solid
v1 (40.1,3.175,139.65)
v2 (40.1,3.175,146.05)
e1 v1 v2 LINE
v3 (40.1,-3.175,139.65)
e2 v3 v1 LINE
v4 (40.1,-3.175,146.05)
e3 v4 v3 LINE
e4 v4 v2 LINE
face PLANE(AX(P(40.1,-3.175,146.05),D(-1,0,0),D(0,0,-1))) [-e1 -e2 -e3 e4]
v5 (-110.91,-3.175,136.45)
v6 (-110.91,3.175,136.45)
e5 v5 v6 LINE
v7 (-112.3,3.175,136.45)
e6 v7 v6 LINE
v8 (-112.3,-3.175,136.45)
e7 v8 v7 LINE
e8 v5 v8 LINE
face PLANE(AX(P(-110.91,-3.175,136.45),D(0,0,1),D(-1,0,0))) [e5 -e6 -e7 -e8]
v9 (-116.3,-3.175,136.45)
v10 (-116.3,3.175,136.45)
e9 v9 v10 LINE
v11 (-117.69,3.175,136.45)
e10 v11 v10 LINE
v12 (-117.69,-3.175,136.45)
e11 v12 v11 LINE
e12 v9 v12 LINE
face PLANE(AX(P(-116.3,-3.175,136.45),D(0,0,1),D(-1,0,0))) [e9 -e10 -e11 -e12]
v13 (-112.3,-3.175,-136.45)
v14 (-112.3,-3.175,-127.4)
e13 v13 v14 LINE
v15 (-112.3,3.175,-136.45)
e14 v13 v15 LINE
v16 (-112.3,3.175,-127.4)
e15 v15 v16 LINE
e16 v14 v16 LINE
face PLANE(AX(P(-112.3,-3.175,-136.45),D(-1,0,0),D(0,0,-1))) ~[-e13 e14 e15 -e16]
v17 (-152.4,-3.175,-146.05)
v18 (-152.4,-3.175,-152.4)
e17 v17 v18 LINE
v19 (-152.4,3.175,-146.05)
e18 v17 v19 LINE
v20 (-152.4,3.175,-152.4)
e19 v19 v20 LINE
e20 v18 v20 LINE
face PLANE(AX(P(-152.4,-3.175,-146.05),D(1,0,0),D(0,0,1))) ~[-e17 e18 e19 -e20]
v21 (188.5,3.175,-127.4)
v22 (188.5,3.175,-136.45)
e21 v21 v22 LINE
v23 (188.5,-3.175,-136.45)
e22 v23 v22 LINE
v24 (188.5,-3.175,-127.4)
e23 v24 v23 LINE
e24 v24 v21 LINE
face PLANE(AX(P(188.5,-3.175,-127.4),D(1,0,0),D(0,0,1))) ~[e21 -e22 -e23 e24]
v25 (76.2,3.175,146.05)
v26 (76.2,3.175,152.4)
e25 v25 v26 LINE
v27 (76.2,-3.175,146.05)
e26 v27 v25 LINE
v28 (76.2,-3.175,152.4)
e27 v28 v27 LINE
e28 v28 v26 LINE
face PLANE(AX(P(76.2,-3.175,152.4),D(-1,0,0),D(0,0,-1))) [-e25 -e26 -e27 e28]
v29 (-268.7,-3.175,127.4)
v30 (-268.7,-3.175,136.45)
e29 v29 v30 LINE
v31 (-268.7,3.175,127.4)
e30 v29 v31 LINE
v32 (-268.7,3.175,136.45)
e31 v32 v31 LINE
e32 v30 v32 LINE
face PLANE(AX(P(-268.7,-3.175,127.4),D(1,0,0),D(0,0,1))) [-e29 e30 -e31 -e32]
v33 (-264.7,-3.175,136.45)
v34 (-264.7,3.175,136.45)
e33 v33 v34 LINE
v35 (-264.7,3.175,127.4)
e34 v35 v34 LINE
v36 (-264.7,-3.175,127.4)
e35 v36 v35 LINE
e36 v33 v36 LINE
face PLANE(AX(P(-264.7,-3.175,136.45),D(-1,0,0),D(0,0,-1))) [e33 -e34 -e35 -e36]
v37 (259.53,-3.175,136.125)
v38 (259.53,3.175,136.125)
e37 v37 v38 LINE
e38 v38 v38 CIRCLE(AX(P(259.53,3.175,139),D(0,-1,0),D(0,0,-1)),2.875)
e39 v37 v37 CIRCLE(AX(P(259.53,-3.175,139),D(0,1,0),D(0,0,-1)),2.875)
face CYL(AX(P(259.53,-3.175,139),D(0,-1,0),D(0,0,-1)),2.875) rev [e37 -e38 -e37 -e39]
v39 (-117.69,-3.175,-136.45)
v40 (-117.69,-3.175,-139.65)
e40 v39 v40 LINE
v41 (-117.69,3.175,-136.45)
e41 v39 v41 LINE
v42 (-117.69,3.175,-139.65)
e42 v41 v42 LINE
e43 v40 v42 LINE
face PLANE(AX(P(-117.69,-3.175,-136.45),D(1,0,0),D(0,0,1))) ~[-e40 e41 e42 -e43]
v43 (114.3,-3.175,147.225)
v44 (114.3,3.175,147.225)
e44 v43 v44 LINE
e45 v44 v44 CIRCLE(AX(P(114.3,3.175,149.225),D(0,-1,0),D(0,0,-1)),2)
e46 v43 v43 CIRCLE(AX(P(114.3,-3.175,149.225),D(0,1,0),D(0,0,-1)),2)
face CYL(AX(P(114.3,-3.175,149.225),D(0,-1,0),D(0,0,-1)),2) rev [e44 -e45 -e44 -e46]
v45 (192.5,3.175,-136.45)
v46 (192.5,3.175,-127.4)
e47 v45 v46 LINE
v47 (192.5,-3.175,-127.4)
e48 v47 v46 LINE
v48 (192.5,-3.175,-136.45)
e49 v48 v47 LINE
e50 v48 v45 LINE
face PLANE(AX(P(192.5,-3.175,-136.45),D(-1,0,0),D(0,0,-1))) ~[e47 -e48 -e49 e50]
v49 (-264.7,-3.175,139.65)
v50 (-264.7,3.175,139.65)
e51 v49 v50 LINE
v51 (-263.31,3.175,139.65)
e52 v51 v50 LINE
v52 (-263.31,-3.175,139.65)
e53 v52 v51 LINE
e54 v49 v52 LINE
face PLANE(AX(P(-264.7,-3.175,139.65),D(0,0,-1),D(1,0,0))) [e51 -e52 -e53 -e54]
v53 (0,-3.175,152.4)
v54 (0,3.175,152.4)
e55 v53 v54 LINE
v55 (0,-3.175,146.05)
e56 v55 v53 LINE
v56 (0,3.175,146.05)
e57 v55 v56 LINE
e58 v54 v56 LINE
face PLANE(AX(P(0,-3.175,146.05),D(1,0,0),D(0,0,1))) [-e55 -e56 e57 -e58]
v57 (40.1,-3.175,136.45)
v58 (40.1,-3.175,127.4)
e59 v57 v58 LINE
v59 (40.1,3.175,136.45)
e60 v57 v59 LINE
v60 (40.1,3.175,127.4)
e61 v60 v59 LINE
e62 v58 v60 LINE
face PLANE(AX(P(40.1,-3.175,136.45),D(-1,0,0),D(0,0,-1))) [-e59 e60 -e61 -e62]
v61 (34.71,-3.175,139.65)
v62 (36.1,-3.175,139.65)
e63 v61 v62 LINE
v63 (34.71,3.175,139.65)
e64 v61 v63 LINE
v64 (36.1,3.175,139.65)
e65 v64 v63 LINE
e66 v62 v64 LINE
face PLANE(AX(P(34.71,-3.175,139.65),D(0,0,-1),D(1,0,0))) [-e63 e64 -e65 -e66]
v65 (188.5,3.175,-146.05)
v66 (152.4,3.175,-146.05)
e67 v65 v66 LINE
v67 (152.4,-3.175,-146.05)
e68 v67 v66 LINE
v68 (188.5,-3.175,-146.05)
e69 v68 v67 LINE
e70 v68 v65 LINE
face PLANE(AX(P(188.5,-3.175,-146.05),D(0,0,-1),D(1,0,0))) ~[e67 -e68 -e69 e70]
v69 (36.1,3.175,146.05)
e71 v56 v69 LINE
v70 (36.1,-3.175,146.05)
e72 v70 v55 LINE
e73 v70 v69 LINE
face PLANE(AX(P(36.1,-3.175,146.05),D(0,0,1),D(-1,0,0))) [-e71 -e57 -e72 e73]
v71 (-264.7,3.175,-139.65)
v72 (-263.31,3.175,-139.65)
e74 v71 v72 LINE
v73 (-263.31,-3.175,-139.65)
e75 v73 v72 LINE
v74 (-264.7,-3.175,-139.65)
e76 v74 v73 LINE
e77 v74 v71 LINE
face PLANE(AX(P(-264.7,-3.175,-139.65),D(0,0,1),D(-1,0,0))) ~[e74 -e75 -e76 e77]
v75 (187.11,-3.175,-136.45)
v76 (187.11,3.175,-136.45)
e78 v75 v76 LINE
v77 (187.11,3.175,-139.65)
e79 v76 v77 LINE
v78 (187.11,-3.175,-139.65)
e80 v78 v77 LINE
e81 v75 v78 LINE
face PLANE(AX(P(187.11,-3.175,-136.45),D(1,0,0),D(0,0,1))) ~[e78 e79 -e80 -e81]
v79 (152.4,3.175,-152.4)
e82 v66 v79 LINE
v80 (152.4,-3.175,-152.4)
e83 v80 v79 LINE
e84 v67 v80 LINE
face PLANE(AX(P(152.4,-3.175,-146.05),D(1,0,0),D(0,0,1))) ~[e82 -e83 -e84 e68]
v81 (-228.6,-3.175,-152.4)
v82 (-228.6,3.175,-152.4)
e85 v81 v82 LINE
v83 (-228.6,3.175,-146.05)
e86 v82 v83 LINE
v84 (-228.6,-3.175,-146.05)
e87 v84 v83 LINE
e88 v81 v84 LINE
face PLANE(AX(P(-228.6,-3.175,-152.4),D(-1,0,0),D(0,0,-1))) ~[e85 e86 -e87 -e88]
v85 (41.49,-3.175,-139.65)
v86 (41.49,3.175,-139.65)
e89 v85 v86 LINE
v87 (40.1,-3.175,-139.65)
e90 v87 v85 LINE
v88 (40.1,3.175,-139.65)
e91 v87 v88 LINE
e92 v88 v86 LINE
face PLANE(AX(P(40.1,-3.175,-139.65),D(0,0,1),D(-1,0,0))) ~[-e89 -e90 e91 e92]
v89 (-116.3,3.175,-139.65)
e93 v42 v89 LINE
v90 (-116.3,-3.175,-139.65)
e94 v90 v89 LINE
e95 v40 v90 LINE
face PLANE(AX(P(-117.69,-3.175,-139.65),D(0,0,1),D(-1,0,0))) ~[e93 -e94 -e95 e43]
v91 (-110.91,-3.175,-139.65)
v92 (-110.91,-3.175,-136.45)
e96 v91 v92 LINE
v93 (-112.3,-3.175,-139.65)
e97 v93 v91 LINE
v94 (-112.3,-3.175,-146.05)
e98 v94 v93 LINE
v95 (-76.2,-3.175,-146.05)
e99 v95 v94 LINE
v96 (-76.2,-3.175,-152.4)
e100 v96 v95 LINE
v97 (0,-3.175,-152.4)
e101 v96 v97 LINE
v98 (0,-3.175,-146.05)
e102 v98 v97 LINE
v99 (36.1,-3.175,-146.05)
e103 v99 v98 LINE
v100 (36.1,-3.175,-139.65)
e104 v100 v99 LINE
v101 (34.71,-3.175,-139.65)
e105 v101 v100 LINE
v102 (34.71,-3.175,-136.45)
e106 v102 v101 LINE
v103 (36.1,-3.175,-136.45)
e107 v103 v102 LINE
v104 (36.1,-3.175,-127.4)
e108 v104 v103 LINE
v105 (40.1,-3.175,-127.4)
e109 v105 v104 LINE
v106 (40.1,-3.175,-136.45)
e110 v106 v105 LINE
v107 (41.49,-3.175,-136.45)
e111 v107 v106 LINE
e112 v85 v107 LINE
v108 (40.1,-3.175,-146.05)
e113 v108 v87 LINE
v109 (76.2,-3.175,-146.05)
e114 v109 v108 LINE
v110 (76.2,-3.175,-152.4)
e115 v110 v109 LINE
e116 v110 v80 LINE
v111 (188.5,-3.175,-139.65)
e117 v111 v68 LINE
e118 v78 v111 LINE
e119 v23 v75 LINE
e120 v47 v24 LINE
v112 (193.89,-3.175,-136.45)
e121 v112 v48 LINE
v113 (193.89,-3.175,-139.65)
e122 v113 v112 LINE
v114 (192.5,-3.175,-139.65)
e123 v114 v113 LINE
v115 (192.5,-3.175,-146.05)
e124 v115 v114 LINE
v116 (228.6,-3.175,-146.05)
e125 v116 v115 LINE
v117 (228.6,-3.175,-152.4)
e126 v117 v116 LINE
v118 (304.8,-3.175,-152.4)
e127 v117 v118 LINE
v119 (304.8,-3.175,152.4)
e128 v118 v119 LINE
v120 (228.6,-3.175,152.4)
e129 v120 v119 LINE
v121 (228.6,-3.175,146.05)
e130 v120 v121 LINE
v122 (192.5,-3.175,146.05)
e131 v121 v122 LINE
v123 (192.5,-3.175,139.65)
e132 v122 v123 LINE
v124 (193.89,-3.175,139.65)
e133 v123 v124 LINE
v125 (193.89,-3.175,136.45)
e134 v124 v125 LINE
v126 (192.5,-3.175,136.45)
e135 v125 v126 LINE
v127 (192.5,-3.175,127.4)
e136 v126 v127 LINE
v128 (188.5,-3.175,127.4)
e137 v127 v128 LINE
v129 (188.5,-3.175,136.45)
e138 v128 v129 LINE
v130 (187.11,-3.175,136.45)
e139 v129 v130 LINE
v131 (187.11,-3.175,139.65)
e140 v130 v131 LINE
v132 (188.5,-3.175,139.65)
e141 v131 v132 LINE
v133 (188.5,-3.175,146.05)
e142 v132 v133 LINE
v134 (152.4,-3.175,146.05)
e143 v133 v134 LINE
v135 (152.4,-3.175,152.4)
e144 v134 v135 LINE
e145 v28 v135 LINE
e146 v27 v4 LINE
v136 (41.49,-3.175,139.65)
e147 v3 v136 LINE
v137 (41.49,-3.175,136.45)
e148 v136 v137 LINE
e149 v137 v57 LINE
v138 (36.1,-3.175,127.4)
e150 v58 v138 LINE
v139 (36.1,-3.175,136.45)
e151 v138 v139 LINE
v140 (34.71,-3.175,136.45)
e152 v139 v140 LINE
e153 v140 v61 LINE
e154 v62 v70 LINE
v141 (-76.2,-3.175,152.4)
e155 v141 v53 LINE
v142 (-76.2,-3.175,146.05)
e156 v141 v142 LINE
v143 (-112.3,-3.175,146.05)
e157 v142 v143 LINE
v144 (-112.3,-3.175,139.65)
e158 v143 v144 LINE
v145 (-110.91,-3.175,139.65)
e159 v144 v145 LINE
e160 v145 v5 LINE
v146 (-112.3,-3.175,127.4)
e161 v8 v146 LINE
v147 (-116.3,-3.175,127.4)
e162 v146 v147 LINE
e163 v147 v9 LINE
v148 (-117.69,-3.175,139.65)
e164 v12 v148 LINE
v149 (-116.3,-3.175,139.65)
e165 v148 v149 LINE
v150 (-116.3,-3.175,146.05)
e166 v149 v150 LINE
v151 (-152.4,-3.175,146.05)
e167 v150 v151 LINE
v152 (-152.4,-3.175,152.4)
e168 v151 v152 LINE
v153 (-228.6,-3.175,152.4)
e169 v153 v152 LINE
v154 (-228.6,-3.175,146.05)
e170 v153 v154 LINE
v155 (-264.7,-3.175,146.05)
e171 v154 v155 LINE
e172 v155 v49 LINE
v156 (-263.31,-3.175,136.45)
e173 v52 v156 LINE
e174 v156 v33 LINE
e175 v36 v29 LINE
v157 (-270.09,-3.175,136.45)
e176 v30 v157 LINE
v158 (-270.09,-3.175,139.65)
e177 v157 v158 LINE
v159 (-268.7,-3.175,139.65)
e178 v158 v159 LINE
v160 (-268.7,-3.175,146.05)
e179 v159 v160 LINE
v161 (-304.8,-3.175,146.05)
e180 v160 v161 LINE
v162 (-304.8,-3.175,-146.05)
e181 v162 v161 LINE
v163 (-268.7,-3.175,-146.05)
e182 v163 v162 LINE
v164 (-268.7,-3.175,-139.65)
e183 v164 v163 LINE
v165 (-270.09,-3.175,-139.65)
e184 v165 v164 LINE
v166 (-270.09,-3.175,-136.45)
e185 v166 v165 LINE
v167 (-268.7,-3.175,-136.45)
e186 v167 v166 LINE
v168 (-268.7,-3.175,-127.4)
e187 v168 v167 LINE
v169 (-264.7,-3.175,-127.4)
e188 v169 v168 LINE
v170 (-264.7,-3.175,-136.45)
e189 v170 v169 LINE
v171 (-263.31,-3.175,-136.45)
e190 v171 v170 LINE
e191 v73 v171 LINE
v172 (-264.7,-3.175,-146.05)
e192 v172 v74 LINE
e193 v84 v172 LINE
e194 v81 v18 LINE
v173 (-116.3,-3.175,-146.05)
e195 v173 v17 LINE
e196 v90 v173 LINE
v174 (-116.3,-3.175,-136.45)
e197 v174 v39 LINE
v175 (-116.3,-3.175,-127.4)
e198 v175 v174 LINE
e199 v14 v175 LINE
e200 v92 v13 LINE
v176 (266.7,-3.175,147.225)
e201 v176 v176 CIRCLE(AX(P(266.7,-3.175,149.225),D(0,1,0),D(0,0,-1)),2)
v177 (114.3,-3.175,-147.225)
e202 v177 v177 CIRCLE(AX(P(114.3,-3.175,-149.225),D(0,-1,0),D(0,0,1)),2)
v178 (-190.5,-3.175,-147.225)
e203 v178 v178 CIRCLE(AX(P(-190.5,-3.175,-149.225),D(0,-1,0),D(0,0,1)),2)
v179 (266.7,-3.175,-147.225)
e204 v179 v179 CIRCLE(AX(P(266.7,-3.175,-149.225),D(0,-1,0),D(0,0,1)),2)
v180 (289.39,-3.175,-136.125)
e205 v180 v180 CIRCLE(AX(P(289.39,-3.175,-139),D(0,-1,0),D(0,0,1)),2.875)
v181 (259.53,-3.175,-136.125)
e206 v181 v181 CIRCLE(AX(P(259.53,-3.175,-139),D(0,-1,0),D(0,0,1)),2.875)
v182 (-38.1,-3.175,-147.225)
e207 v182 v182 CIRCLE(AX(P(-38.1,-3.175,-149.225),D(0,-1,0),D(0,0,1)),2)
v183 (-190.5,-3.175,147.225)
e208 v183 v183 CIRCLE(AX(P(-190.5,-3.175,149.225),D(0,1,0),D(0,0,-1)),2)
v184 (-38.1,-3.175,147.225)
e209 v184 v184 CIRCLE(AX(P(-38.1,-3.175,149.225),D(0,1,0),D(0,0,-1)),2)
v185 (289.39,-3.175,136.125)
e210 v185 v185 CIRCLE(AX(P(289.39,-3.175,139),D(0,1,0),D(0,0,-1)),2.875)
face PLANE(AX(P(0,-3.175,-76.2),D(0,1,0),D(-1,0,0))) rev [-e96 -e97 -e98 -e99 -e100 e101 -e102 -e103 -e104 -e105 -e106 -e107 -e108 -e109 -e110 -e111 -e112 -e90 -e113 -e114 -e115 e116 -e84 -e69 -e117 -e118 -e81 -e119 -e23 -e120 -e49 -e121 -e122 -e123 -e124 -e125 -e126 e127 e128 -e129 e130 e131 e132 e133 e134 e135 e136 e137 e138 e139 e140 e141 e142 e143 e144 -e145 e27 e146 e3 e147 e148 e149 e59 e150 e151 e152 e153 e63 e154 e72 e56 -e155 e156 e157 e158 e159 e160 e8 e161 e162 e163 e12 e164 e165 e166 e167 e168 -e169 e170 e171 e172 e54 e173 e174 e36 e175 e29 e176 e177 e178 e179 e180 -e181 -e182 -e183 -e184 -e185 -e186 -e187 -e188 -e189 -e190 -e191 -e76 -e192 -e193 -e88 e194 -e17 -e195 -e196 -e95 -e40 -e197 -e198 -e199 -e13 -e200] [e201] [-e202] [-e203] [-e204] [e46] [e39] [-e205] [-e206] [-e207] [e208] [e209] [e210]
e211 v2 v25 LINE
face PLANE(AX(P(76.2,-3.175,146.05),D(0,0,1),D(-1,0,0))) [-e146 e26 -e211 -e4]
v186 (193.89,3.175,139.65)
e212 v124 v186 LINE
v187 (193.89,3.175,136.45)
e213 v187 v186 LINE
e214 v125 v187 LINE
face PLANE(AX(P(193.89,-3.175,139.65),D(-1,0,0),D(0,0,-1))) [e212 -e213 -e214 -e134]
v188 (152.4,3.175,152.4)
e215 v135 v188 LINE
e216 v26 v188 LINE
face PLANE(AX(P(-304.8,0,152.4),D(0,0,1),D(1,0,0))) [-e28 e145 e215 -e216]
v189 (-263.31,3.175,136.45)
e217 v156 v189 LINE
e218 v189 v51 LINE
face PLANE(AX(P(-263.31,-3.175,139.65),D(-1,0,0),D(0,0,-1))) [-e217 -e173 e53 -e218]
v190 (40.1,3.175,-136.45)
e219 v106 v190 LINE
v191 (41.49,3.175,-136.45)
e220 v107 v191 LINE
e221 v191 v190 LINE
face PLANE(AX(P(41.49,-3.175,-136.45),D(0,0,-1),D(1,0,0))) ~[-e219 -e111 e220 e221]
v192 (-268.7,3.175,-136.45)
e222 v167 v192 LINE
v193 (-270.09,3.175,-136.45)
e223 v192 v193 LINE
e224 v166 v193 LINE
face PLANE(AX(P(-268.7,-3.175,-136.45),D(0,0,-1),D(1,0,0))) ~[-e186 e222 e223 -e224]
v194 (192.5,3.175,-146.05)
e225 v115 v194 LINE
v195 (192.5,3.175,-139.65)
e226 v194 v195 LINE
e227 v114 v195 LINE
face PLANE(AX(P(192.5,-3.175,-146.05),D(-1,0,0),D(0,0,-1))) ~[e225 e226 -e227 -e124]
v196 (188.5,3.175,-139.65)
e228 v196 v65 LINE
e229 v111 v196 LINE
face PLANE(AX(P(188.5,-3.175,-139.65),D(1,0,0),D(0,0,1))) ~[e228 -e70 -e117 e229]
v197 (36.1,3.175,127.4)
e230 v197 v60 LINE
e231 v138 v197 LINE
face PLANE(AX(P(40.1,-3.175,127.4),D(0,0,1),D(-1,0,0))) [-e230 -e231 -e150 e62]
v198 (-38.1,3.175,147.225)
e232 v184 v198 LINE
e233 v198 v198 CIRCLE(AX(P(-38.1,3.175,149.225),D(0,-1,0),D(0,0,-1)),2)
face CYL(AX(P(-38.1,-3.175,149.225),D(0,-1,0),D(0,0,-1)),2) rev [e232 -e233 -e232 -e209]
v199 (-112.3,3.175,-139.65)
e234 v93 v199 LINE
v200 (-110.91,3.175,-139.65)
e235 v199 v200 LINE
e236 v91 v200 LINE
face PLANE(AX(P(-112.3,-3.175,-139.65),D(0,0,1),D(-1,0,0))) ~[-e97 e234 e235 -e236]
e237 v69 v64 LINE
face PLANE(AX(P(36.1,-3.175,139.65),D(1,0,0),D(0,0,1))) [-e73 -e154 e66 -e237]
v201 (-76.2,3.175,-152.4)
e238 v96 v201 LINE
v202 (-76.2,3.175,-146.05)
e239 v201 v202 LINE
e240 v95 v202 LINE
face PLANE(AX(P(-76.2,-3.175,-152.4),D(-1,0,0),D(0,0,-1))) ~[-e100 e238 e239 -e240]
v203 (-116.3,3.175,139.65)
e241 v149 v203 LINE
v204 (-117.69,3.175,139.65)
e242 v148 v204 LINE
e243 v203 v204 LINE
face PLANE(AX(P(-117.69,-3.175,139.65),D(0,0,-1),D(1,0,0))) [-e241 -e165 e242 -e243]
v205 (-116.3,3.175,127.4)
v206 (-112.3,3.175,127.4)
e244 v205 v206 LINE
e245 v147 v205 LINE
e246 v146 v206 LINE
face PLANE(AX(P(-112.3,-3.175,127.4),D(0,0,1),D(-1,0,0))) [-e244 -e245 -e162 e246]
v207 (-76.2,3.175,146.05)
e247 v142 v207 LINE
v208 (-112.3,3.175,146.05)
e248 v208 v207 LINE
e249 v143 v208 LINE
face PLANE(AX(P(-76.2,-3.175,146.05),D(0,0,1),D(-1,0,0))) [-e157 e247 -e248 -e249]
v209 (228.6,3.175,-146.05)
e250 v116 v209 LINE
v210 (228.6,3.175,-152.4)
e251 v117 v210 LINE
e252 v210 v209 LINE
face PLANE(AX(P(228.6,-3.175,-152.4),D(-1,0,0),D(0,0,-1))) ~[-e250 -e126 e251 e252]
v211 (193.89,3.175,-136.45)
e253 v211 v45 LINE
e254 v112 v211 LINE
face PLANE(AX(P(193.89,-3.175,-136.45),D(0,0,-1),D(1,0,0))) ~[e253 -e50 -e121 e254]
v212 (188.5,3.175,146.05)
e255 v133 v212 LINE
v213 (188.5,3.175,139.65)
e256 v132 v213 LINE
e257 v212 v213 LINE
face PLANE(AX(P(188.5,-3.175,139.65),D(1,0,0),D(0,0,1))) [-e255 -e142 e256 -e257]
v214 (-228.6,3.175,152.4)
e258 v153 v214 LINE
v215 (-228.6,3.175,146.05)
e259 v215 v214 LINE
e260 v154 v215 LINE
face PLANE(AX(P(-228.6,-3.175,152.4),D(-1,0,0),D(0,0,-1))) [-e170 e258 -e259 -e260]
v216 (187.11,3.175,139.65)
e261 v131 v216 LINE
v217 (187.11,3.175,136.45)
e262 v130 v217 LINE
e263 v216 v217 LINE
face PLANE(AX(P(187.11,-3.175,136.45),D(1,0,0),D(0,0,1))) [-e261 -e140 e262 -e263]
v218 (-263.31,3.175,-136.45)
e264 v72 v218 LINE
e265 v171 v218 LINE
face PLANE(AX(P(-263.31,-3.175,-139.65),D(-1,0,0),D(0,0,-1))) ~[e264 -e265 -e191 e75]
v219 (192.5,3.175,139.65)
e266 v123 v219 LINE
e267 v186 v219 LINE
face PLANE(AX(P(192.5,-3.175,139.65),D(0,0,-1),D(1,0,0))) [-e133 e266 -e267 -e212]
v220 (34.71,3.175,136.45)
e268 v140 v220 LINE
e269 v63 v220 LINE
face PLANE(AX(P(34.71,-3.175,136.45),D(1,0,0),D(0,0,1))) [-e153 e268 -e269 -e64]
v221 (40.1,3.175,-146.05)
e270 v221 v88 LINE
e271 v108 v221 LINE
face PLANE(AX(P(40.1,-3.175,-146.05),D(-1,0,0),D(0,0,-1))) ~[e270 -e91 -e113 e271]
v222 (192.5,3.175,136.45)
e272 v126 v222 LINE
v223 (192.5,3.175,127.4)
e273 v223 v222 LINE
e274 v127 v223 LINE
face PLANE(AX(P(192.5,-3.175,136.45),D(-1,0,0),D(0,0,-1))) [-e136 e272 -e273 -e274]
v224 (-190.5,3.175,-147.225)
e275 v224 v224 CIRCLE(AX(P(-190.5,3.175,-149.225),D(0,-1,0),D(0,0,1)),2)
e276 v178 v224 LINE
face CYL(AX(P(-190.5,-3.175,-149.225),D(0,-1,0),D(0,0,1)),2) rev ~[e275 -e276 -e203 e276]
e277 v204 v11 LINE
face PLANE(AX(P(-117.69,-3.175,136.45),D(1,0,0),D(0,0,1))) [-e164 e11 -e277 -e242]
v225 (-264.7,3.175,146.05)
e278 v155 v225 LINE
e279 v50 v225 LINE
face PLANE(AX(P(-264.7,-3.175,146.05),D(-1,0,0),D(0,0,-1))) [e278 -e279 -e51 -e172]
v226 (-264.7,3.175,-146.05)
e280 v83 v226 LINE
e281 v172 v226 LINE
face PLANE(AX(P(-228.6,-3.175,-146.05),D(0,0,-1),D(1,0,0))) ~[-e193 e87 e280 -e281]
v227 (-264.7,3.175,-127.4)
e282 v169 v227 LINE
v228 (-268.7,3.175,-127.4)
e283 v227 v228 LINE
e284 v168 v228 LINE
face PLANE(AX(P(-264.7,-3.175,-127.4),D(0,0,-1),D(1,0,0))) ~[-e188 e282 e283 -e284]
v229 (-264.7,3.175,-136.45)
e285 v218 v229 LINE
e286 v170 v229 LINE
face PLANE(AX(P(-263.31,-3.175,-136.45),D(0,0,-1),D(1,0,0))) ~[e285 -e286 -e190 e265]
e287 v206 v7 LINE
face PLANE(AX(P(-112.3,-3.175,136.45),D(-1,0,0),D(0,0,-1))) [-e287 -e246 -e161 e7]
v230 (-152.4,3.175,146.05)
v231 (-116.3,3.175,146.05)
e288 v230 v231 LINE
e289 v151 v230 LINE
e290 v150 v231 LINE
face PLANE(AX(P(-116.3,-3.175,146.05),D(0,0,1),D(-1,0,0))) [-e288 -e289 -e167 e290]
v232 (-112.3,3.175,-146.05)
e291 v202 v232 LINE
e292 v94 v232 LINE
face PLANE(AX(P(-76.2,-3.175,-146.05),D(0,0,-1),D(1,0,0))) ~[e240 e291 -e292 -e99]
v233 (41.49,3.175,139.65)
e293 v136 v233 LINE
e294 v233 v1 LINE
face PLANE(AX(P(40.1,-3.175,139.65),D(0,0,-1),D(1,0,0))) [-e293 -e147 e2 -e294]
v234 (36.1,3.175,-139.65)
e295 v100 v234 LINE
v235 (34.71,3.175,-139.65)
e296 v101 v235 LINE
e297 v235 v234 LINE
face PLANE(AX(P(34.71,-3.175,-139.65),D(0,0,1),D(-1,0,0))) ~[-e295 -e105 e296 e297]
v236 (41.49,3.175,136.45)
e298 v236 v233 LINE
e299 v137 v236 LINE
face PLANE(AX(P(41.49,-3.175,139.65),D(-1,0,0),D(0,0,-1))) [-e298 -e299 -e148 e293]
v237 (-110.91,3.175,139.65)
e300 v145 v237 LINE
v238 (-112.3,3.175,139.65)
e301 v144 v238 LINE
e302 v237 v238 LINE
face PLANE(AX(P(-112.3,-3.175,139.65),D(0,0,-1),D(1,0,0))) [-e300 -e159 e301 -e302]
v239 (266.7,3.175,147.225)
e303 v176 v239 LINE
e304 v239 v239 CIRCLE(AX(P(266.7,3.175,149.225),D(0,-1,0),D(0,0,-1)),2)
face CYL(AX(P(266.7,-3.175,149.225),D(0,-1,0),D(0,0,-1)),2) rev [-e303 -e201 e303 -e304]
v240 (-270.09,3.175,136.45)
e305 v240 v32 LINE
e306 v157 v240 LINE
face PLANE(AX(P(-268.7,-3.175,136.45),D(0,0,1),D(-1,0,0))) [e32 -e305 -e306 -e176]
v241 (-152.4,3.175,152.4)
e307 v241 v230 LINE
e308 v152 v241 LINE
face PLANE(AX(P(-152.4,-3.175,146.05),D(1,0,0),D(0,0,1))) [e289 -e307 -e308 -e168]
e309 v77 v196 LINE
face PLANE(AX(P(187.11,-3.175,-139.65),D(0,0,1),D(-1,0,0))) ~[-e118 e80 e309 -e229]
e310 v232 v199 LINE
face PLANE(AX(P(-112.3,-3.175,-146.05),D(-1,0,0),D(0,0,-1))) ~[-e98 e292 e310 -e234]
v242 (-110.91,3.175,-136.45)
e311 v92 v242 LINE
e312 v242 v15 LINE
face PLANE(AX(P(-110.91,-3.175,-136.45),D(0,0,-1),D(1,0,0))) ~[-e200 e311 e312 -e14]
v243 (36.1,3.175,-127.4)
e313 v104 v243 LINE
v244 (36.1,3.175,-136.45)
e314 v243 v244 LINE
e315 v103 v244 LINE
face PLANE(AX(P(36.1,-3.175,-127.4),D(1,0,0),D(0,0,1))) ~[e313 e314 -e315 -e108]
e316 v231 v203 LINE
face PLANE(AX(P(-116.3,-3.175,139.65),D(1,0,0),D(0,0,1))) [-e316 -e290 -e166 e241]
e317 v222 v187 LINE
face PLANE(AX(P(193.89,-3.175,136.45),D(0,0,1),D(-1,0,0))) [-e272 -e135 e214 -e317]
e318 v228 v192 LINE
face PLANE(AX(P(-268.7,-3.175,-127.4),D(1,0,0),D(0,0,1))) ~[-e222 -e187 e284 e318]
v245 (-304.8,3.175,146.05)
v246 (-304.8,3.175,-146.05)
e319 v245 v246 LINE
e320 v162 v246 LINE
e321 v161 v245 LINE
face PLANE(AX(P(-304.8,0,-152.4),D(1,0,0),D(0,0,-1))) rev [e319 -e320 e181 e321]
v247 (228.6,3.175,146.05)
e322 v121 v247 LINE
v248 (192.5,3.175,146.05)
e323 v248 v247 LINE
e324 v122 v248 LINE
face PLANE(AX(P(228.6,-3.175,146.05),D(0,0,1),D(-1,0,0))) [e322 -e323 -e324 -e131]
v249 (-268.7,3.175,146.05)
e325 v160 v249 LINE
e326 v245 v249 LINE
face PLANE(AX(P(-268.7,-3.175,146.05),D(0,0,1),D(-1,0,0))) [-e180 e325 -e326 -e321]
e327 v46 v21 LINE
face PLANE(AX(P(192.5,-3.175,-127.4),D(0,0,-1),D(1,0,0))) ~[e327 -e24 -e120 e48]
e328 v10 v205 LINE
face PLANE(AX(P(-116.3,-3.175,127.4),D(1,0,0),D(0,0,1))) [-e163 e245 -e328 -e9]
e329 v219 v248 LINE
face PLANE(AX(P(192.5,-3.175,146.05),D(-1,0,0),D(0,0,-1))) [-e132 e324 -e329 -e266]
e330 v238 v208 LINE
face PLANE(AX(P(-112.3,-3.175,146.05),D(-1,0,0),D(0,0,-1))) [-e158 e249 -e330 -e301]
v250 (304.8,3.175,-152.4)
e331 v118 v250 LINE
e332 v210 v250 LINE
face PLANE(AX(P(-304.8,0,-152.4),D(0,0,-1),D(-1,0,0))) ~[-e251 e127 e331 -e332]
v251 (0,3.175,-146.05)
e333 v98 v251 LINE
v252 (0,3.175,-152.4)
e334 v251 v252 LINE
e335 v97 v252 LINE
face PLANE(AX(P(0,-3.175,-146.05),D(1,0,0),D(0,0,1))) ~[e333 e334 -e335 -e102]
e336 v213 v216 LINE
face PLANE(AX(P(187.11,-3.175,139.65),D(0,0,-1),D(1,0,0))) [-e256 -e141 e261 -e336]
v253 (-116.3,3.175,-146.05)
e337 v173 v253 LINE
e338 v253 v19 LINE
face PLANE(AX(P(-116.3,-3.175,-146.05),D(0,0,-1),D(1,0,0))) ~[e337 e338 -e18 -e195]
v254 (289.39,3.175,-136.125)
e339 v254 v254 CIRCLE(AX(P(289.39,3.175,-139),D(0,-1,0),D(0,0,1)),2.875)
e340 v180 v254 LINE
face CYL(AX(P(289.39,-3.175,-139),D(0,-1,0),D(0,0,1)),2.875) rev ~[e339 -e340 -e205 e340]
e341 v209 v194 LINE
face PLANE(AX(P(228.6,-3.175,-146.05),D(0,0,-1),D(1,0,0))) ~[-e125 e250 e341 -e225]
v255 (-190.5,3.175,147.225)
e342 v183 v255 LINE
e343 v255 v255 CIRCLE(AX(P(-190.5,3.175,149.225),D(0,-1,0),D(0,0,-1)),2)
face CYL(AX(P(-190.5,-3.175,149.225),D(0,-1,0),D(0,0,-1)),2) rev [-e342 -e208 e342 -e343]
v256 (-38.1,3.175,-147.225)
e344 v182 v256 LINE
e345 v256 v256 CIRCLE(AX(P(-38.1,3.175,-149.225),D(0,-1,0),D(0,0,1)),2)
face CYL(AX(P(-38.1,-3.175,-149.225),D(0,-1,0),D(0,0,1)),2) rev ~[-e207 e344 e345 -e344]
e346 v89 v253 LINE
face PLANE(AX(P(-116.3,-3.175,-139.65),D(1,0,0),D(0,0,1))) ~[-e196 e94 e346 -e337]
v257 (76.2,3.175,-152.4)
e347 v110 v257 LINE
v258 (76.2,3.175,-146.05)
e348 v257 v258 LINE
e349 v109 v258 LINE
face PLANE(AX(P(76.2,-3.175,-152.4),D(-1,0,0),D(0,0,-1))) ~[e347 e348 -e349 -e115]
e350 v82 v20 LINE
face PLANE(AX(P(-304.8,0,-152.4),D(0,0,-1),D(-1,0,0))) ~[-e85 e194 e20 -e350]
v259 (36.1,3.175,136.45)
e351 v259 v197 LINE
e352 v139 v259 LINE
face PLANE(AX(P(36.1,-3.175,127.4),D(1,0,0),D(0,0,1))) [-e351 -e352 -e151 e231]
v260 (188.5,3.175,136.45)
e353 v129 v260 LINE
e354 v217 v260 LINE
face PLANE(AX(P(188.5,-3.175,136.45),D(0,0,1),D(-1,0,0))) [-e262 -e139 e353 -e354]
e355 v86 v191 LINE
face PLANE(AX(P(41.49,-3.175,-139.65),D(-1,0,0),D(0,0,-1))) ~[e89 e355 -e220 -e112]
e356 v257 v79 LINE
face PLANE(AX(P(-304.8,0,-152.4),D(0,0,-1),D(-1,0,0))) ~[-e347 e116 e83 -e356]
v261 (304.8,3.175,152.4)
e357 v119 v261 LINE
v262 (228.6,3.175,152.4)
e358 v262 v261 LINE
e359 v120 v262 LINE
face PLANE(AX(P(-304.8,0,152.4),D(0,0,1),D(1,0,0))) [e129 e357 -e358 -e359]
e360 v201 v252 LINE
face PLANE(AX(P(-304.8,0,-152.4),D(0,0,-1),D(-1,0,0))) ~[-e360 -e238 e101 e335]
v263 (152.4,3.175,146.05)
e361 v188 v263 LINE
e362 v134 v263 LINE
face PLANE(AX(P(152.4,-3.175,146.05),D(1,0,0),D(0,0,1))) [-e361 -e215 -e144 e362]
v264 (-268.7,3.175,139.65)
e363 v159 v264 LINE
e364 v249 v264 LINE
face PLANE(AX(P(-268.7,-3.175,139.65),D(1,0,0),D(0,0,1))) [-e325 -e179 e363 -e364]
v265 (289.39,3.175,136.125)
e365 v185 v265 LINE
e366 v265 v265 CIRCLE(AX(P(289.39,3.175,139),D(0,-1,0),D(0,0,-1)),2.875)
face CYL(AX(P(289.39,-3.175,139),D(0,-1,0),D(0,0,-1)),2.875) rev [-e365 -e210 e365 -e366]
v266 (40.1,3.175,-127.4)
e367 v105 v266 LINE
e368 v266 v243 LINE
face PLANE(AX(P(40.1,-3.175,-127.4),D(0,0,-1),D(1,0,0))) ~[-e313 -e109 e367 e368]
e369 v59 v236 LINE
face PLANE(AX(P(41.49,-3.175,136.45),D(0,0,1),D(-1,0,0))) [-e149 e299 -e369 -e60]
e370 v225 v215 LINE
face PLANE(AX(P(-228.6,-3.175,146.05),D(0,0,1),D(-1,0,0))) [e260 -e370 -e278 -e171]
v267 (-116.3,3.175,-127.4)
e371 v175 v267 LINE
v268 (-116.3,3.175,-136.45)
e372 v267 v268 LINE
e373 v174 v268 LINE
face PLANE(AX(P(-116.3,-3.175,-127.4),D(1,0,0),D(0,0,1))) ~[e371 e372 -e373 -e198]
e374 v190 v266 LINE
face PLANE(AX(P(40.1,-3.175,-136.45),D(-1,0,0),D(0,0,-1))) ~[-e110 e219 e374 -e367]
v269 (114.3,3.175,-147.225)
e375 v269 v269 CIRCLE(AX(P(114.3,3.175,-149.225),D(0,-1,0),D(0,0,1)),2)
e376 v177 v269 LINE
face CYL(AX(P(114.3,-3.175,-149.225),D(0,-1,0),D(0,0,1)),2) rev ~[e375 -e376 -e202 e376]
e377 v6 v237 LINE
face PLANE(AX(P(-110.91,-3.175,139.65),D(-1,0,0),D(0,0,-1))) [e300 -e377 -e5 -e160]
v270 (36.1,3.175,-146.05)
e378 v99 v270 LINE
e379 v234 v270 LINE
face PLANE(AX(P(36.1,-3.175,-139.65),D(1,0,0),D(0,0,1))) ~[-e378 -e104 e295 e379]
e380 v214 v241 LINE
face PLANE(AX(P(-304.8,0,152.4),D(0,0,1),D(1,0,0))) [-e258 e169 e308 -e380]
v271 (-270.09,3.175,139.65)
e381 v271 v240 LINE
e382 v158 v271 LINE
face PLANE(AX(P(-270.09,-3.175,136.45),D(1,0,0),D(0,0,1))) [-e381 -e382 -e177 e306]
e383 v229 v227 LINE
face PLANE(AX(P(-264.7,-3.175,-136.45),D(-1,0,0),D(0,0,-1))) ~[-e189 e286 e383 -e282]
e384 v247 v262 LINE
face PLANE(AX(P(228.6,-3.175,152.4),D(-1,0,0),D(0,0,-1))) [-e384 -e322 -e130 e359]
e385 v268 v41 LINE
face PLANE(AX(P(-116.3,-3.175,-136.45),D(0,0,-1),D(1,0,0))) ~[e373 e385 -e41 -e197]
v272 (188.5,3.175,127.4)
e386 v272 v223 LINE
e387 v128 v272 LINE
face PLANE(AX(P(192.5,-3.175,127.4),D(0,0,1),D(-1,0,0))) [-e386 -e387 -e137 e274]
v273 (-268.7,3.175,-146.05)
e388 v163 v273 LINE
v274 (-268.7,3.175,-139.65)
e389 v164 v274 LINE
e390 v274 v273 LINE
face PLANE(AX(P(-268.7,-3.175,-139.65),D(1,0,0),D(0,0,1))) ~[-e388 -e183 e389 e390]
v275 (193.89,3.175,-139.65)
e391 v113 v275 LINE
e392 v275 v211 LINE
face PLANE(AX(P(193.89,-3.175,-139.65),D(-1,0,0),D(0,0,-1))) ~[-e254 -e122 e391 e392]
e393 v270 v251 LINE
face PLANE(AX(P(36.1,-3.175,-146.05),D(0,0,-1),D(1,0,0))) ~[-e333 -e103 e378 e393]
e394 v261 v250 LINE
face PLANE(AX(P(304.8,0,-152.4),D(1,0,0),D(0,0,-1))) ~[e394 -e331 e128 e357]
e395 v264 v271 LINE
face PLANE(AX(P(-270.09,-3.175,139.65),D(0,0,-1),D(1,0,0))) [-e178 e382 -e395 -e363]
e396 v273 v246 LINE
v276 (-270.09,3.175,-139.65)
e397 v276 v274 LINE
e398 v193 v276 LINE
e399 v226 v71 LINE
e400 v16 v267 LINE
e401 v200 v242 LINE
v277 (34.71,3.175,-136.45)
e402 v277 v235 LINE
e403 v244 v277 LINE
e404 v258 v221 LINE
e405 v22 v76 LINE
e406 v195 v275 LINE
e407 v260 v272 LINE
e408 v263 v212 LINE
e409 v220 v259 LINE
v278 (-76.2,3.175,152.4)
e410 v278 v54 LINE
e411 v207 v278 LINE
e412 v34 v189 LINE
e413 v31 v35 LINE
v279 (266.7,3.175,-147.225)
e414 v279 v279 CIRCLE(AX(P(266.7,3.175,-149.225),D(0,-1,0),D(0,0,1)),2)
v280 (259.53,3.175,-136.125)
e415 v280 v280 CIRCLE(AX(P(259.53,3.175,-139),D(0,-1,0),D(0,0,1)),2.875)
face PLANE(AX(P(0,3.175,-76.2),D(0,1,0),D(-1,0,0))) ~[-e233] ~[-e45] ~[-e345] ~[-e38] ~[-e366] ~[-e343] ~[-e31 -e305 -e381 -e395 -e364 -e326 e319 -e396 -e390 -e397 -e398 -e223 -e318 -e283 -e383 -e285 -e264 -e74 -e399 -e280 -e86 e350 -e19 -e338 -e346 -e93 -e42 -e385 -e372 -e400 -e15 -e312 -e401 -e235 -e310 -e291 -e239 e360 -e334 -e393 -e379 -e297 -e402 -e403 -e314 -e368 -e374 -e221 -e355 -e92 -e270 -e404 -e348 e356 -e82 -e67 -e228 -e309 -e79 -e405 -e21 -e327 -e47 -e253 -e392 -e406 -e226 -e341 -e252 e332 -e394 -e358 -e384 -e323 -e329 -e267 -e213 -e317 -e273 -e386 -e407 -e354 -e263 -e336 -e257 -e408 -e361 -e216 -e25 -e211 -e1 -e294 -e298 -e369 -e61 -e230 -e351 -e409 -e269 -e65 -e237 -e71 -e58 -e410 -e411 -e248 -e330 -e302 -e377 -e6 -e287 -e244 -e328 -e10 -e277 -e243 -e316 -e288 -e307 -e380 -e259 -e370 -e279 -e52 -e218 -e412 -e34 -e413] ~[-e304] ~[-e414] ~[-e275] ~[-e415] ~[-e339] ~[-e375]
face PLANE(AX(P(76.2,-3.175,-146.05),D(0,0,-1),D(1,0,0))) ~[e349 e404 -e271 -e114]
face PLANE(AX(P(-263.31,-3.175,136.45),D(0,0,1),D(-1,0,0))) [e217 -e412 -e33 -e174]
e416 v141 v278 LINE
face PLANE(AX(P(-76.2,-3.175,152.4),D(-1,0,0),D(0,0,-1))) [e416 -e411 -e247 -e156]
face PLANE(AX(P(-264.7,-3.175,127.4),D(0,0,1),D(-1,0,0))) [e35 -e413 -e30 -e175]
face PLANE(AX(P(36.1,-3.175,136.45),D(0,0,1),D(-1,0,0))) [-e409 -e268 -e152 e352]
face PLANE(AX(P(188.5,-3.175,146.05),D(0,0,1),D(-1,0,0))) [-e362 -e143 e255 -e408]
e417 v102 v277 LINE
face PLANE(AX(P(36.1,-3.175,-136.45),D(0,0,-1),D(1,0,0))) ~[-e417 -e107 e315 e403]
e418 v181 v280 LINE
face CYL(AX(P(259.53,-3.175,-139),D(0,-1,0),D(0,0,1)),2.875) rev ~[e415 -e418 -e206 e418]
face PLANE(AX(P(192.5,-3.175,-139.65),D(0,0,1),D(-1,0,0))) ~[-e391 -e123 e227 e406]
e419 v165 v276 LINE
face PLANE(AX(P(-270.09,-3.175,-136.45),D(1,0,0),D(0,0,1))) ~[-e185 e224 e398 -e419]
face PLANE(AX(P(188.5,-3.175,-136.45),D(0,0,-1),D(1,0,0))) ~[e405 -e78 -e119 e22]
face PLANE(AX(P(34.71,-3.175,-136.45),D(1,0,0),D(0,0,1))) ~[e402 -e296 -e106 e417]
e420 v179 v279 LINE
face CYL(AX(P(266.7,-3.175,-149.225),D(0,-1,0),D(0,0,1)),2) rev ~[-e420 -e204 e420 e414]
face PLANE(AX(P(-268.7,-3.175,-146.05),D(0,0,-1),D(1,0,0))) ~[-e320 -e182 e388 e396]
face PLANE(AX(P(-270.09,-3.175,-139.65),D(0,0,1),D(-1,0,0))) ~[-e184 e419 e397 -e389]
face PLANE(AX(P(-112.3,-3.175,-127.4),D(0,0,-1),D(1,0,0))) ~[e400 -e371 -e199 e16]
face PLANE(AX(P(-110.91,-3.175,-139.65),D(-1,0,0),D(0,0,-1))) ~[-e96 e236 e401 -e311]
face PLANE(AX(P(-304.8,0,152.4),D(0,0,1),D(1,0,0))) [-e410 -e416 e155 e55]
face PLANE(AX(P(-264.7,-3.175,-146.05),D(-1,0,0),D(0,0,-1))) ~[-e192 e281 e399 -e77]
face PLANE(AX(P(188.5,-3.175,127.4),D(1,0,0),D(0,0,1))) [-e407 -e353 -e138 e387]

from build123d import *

# Parameters (mm, degrees)
SKETCH1_W           = 609.6
SKETCH1_H           = 152.4
BOSS_EXTRUDE1_DEPTH = 3.175
SKETCH2_R           = 2.875
SKETCH2_R_2         = 2
CUT_EXTRUDE1_DEPTH  = 341.835917268


with BuildPart() as part:
    # Sketch1 → Boss-Extrude1 (new, symmetric)
    with BuildSketch(Plane(origin=(0, 0, 0), x_dir=(1, 0, 0), z_dir=(0, 1, 0))):
        with Locations((0, -76.2)):
            Rectangle(SKETCH1_W, SKETCH1_H)
    boss_extrude1 = extrude(amount=BOSS_EXTRUDE1_DEPTH, both=True)

    # Sketch2 → Cut-Extrude1 (cut, through all)
    with BuildSketch(Plane(origin=(0, -3.175, 0), x_dir=(1, 0, 0), z_dir=(0, 1, 0))):
        Polygon((34.71, -136.45), (34.71, -139.65), (36.1, -139.65), (36.1, -146.05), (0, -146.05), (0, -152.4), (76.2, -152.4), (76.2, -146.05), (40.1, -146.05), (40.1, -139.65), (41.49, -139.65), (41.49, -136.45), (40.1, -136.45), (40.1, -127.4), (36.1, -127.4), (36.1, -136.45), align=None)
        Polygon((-304.8, -146.05), (-304.8, -152.4), (-228.6, -152.4), (-228.6, -146.05), (-264.7, -146.05), (-264.7, -139.65), (-263.31, -139.65), (-263.31, -136.45), (-264.7, -136.45), (-264.7, -127.4), (-268.7, -127.4), (-268.7, -136.45), (-270.09, -136.45), (-270.09, -139.65), (-268.7, -139.65), (-268.7, -146.05), align=None)
        Polygon((-152.4, -146.05), (-152.4, -152.4), (-76.2, -152.4), (-76.2, -146.05), (-112.3, -146.05), (-112.3, -139.65), (-110.91, -139.65), (-110.91, -136.45), (-112.3, -136.45), (-112.3, -127.4), (-116.3, -127.4), (-116.3, -136.45), (-117.69, -136.45), (-117.69, -139.65), (-116.3, -139.65), (-116.3, -146.05), align=None)
        Polygon((152.4, -146.05), (152.4, -152.4), (228.6, -152.4), (228.6, -146.05), (192.5, -146.05), (192.5, -139.65), (193.89, -139.65), (193.89, -136.45), (192.5, -136.45), (192.5, -127.4), (188.5, -127.4), (188.5, -136.45), (187.11, -136.45), (187.11, -139.65), (188.5, -139.65), (188.5, -146.05), align=None)
        with Locations(Location((289.39, -138.999999876, 0), (0, 0, 90))):
            Circle(SKETCH2_R)
        with Locations(Location((259.53, -138.999999876, 0), (0, 0, 90))):
            Circle(SKETCH2_R)
        with Locations(Location((266.7, -149.225, 0), (0, 0, 90))):
            Circle(SKETCH2_R_2)
        with Locations(Location((114.3, -149.225, 0), (0, 0, 90))):
            Circle(SKETCH2_R_2)
        with Locations(Location((-38.1, -149.225, 0), (0, 0, 90))):
            Circle(SKETCH2_R_2)
        with Locations(Location((-190.5, -149.225, 0), (0, 0, 90))):
            Circle(SKETCH2_R_2)
    cut_extrude1 = extrude(amount=CUT_EXTRUDE1_DEPTH, mode=Mode.SUBTRACT)

    # Mirror1: Boss-Extrude1, Cut-Extrude1 across plane
    add(boss_extrude1.mirror(Plane(origin=(0, 3.175, 0), x_dir=(1, 0, 0), z_dir=(0, 0, 1))))
    add(cut_extrude1.mirror(Plane(origin=(0, 3.175, 0), x_dir=(1, 0, 0), z_dir=(0, 0, 1))), mode=Mode.SUBTRACT)


solid = part.part
